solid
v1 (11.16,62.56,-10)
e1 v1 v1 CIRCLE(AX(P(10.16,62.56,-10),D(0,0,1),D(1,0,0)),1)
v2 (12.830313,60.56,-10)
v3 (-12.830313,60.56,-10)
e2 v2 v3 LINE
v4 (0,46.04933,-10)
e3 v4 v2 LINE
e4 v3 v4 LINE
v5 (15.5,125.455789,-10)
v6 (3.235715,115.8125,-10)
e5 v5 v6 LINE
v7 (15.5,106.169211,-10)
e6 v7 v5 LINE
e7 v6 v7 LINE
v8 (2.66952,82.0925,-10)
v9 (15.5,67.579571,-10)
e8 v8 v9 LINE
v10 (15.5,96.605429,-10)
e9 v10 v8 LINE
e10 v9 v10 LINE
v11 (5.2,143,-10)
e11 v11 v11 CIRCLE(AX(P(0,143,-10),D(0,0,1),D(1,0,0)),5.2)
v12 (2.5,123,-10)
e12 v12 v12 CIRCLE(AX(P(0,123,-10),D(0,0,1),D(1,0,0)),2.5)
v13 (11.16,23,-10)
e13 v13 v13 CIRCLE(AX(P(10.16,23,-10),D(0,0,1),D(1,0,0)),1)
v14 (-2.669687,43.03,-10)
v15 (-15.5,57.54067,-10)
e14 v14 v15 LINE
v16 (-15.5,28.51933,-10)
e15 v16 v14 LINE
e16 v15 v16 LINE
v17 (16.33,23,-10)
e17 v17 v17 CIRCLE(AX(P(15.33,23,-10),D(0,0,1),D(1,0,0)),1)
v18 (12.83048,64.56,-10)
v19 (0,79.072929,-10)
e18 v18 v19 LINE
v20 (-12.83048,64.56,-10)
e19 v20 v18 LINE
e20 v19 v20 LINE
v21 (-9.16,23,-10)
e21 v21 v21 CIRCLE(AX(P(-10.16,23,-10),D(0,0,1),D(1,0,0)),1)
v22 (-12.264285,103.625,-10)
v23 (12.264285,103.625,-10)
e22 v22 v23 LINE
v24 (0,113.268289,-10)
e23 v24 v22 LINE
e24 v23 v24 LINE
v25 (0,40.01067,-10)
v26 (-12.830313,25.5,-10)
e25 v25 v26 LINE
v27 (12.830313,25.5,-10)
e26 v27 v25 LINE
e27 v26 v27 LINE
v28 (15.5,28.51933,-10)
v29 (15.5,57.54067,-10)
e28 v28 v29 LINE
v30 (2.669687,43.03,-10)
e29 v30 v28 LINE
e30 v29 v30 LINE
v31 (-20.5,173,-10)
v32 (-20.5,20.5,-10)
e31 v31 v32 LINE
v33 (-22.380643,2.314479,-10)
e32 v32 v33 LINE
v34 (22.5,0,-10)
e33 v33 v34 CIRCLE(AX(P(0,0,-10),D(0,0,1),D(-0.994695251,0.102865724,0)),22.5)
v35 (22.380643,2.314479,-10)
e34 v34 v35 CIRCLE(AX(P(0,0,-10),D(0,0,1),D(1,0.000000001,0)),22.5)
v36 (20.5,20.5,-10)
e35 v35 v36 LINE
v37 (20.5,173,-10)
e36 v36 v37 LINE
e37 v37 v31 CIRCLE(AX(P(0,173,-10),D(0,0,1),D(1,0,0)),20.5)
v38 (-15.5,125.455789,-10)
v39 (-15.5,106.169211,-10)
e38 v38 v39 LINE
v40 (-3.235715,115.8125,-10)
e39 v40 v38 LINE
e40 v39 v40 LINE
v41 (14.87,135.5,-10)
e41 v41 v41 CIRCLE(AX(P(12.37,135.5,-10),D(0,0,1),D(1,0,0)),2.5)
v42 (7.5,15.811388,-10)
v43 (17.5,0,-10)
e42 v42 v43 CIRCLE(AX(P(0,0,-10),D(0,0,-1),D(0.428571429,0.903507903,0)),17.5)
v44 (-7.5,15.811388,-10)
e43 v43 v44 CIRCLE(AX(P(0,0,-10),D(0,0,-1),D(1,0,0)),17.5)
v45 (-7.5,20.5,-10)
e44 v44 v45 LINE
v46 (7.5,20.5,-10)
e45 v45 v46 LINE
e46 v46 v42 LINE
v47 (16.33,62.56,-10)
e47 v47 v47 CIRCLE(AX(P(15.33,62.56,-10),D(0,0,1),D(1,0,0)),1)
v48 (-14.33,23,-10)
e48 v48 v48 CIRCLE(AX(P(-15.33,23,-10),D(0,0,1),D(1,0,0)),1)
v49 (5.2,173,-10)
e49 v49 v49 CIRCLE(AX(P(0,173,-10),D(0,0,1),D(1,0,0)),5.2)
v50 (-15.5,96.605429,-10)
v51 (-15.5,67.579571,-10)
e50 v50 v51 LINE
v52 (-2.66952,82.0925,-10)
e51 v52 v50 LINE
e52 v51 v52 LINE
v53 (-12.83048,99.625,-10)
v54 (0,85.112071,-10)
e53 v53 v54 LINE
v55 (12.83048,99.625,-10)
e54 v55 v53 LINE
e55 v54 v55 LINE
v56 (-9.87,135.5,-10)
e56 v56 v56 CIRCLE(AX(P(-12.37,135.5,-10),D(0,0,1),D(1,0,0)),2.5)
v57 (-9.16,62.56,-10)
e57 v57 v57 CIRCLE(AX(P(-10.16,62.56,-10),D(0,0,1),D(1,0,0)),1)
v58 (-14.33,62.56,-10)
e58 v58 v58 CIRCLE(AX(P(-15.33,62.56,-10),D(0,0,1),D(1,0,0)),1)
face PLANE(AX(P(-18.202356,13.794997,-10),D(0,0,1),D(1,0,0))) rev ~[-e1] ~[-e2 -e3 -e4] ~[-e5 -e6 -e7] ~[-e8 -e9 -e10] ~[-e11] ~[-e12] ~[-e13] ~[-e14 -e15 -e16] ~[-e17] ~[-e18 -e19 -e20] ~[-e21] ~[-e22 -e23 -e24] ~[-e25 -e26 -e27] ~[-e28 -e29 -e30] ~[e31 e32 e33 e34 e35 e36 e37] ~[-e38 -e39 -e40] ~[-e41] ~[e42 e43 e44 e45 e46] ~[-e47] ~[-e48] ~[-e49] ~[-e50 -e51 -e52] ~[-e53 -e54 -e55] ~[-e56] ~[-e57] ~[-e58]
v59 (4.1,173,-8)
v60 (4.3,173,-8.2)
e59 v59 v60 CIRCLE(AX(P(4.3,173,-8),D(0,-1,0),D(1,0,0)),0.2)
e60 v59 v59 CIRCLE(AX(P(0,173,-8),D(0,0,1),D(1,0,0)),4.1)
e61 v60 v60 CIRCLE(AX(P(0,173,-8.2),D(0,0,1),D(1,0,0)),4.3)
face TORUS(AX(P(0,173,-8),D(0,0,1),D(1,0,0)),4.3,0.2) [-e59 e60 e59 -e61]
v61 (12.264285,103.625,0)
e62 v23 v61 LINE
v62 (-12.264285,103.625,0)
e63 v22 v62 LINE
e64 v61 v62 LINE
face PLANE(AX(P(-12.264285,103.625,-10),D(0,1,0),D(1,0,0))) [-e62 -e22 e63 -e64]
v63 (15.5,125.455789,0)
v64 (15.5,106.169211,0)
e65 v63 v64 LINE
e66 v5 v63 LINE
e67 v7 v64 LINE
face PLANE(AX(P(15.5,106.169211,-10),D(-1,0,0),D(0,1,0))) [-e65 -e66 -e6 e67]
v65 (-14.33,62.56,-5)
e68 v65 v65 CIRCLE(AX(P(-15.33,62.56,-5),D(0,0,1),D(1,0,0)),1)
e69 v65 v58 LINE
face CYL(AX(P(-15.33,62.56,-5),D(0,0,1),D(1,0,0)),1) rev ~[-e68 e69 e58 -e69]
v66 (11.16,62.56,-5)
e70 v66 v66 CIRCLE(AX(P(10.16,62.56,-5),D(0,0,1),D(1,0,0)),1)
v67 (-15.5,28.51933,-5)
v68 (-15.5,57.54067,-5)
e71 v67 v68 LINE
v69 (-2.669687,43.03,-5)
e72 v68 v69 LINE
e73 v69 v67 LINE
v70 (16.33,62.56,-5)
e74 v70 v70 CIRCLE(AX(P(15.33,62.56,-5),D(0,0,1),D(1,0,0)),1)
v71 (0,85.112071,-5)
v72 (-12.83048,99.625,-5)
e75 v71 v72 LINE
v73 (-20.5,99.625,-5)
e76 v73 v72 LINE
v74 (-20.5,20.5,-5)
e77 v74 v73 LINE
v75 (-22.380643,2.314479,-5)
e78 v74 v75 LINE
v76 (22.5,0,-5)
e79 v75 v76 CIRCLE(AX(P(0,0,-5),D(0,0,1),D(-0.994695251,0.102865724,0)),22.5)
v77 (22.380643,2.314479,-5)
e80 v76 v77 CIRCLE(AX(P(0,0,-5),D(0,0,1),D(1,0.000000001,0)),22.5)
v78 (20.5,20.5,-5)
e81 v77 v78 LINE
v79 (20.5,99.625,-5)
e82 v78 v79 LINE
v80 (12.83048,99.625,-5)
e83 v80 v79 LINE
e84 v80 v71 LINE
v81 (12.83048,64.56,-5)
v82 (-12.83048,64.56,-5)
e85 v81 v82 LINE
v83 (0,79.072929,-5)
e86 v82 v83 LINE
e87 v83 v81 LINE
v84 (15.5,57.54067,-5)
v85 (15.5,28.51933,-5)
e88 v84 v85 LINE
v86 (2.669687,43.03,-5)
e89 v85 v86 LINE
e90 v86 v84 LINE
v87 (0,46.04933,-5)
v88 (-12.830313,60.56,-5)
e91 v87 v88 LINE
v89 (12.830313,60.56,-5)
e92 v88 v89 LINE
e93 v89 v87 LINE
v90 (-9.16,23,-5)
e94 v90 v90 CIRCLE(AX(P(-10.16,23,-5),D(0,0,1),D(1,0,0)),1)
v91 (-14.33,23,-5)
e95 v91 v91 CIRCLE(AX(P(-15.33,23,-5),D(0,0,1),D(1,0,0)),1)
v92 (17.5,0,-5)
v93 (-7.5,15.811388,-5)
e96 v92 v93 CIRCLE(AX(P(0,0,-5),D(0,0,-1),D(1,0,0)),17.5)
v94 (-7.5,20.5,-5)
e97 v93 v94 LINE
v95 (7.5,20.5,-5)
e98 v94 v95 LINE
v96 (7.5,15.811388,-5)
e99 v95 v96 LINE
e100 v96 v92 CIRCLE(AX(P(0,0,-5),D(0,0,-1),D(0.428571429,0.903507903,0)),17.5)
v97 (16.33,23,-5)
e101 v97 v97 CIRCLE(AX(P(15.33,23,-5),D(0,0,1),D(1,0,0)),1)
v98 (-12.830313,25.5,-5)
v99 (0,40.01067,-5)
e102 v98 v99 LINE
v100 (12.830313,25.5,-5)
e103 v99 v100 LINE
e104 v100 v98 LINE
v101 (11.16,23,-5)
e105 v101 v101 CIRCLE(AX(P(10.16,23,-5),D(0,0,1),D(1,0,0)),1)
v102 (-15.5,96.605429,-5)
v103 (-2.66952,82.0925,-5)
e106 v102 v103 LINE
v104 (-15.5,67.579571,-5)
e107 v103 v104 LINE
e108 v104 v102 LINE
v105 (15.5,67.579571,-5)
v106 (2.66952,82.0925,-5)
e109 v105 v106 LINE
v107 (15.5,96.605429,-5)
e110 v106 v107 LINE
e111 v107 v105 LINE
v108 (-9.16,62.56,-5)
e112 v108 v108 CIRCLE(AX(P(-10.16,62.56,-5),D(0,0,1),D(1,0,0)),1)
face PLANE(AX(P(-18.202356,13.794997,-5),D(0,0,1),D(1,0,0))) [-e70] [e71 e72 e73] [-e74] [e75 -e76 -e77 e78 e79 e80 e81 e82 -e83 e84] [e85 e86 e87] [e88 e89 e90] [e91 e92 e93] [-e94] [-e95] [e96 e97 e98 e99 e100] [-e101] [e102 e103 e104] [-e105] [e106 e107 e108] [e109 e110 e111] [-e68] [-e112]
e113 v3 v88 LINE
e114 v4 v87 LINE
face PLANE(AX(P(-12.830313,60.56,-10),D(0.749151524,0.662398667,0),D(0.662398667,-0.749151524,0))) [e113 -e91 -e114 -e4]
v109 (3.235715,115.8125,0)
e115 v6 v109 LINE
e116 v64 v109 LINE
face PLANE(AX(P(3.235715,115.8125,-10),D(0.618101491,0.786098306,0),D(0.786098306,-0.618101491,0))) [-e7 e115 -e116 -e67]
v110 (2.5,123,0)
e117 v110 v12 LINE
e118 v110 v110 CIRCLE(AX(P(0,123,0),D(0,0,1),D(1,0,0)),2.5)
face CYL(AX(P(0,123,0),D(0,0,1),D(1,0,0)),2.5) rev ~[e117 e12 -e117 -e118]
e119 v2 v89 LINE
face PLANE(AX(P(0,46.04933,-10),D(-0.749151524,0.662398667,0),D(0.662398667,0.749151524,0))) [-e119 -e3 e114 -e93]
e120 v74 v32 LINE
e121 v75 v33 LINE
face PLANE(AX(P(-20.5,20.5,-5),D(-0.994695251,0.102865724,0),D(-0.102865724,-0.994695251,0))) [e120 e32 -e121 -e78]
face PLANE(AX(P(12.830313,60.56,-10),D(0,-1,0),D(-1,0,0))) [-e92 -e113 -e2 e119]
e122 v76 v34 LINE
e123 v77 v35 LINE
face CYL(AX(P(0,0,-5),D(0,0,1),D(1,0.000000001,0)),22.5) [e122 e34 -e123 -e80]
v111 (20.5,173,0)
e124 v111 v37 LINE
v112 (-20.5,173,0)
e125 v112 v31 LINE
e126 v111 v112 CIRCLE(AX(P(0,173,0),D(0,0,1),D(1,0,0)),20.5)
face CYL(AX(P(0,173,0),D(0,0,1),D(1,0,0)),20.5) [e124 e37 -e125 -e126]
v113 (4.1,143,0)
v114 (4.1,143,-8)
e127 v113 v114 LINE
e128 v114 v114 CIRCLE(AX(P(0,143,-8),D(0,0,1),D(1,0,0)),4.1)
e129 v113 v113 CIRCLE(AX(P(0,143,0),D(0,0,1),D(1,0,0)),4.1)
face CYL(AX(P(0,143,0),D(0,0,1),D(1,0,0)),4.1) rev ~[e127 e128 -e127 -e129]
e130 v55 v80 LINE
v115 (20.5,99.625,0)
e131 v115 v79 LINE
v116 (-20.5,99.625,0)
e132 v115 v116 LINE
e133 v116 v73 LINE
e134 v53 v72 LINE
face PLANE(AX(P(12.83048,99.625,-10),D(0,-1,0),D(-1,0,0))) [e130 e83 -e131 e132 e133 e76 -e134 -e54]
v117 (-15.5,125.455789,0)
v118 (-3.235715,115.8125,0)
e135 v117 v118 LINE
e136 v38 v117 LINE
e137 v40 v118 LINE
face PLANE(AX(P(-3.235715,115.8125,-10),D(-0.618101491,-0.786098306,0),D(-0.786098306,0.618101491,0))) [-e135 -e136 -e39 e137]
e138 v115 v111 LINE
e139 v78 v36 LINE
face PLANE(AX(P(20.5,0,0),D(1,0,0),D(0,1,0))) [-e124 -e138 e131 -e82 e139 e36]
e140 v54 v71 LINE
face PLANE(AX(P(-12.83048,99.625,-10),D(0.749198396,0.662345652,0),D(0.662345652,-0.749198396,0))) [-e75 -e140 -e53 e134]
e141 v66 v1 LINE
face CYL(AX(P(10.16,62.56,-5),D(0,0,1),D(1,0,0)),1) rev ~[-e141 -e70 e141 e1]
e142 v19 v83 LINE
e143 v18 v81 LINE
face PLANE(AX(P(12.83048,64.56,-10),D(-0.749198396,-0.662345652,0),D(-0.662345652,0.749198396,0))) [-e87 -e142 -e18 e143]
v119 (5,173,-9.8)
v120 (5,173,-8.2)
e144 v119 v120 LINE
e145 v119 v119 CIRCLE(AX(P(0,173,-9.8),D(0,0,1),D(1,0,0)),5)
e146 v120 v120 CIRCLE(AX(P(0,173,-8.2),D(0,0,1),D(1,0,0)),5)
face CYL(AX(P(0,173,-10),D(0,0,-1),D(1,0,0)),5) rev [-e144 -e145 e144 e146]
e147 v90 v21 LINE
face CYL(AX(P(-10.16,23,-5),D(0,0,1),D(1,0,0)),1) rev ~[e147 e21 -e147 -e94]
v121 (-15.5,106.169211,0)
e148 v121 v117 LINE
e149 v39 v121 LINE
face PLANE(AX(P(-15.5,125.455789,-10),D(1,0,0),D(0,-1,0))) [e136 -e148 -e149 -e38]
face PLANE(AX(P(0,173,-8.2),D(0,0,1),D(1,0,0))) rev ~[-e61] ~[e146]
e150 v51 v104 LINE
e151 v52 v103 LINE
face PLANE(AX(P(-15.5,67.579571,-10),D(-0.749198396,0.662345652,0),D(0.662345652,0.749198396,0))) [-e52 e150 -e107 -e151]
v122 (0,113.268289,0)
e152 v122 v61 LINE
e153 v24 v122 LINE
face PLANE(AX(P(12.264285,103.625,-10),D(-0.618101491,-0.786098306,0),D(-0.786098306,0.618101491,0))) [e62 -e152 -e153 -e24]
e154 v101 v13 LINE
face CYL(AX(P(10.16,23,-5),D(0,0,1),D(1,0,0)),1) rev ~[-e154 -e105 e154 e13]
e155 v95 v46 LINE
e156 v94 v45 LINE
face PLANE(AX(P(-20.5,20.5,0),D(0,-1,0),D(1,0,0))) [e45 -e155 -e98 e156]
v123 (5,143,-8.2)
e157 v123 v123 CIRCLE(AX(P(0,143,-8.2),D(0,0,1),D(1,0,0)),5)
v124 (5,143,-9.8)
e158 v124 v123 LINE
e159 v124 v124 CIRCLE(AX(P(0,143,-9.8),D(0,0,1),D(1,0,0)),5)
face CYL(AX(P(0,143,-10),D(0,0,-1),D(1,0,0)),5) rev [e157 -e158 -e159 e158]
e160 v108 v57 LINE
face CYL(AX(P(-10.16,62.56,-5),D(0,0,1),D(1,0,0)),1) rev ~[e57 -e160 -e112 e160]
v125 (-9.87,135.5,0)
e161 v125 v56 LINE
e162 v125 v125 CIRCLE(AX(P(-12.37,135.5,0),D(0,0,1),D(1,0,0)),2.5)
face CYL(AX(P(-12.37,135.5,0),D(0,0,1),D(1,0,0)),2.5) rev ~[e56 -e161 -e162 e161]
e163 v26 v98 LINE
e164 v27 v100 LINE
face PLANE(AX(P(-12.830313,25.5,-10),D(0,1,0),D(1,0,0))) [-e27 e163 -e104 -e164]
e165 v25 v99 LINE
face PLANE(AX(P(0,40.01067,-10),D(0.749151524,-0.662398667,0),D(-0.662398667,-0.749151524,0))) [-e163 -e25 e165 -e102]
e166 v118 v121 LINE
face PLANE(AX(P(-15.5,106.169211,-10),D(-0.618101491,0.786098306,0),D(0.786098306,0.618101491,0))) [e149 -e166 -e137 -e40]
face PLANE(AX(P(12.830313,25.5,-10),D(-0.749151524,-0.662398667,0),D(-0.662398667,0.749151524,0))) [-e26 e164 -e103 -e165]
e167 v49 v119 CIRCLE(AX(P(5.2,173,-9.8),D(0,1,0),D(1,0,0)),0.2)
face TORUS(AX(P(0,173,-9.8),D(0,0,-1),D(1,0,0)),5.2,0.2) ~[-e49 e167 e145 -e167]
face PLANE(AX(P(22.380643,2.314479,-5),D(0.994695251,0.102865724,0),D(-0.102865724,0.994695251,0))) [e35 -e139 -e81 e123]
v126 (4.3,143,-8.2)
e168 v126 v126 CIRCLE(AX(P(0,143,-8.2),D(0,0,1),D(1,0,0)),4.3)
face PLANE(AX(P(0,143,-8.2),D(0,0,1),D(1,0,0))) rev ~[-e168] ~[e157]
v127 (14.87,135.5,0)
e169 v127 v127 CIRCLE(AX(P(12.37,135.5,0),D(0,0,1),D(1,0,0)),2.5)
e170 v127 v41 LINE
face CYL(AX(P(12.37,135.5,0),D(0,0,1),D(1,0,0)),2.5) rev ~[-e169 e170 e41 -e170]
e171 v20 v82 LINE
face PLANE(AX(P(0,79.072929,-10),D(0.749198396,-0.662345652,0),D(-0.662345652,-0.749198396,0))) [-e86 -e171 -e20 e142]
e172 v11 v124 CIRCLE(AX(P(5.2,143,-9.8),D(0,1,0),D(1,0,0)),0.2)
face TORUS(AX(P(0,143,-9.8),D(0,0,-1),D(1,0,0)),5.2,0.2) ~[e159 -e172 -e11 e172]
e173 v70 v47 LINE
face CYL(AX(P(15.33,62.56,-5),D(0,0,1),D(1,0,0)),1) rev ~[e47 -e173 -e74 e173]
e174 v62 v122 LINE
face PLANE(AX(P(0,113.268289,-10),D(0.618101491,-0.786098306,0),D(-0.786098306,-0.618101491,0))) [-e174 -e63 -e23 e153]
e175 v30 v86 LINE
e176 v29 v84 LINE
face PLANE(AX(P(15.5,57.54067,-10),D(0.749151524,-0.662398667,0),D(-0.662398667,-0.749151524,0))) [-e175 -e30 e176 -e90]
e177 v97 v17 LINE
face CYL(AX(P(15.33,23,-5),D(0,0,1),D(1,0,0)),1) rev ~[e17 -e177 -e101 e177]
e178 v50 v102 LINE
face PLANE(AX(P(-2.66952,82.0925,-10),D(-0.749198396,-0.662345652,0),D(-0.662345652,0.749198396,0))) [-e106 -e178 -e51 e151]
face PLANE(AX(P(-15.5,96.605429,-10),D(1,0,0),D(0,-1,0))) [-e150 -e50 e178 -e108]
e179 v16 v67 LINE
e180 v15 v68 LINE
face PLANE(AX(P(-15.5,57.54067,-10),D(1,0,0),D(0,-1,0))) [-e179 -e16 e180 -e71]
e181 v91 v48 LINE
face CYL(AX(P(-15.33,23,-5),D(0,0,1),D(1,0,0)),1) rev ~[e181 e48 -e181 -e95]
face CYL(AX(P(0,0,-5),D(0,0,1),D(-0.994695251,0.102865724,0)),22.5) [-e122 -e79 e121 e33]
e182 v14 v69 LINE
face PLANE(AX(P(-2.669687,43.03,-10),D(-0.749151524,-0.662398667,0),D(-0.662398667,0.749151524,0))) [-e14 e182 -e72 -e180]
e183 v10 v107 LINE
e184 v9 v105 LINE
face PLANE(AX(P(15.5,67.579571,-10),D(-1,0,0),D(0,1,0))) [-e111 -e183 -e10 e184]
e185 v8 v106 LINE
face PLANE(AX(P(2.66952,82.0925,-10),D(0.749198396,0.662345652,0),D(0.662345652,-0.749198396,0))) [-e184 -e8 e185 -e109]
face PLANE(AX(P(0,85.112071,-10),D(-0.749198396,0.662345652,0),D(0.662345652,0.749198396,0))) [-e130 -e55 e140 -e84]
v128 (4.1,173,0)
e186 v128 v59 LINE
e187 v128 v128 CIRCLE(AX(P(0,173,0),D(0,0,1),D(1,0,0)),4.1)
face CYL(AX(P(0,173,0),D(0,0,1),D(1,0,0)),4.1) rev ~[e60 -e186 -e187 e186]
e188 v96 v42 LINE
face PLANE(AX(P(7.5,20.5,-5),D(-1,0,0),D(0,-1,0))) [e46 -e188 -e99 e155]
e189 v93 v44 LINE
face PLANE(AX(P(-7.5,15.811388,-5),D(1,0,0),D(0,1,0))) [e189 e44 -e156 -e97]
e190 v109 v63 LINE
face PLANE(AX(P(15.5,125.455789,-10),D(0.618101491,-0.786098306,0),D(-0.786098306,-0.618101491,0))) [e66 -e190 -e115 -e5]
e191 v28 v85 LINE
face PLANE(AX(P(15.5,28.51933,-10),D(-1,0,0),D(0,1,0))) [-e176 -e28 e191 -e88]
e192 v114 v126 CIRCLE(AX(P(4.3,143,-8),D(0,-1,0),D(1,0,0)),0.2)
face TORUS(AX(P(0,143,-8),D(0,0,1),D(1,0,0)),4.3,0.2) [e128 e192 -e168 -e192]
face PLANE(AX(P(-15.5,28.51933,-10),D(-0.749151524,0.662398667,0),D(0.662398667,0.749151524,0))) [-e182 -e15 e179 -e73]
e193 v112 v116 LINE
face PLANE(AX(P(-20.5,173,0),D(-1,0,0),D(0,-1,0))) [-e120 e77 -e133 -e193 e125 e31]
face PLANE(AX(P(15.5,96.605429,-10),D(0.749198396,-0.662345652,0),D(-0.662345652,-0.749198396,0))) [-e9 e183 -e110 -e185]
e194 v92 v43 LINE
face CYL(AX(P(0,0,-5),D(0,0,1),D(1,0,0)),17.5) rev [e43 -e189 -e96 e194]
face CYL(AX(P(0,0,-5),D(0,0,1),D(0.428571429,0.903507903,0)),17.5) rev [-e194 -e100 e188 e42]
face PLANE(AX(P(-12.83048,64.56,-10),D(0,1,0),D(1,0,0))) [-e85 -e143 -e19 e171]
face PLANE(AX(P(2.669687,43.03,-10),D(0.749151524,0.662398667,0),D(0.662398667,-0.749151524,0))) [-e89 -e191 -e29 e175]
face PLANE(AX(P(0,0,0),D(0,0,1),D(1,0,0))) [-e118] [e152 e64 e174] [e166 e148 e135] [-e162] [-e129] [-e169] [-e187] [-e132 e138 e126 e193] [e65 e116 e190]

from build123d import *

# Parameters (mm, degrees)
SKETCH_1_R               = 20.5
SKETCH_1_R_2             = 6.5
SKETCH_1_R_3             = 1.5
EXTRUDE_1_DEPTH          = 10
SKETCH_2_R               = 4.1
CUT_EXTRUDE_1_DEPTH      = 10
SKETCH_4_W               = 41
SKETCH_4_H               = 120.125
CUT_EXTRUDE_3_DEPTH      = 5
CUT_EXTRUDE_4_DEPTH      = 195.839677684
CUT_EXTRUDE_4_DEPTH_BACK = 10
CUT_EXTRUDE_5_DEPTH      = 195.839677684
CUT_EXTRUDE_5_DEPTH_BACK = 10
SKETCH_5_W               = 41
SKETCH_5_H               = 41
CUT_EXTRUDE_6_DEPTH      = 10
EXTRUDE_START            = -5
EXTRUDE_2_DEPTH          = 5
SKETCH_7_R               = 1
CUT_EXTRUDE_7_DEPTH      = 195.867903976
SKETCH_8_R               = 2.5
CUT_EXTRUDE_8_DEPTH      = 10
CUT_EXTRUDE_START        = -10
SKETCH_9_R               = 5
CUT_EXTRUDE_9_DEPTH      = 1.8
FILLET_1_R               = 0.2


with BuildPart() as part:
    # 스케치1 → 보스-돌출1 (new body)
    # profile 1 of 3: a face of its own
    with BuildSketch(Plane.XY):
        with BuildLine():
            Line((-20.5, 173), (-20.5, 0))
            ThreePointArc((-20.5, 0), (0, 20.5), (20.5, 0))
            Line((20.5, 0), (20.5, 173))
            ThreePointArc((20.5, 173), (0, 152.5), (-20.5, 173))
        make_face()
    # profile 2 of 3: a face of its own
    with BuildSketch(Plane.XY):
        with Locations((0, 173)):
            Circle(SKETCH_1_R)
    # profile 3 of 3: a face of its own
    with BuildSketch(Plane.XY):
        Circle(SKETCH_1_R)
        with Locations((0, -7)):
            Circle(SKETCH_1_R_2, mode=Mode.SUBTRACT)
        with Locations((-7.75, -13.423393759)):
            Circle(SKETCH_1_R_3, mode=Mode.SUBTRACT)
        with Locations((7.75, -13.423393759)):
            Circle(SKETCH_1_R_3, mode=Mode.SUBTRACT)
        with Locations((15.5, 0)):
            Circle(SKETCH_1_R_3, mode=Mode.SUBTRACT)
        with Locations((7.75, 13.423393759)):
            Circle(SKETCH_1_R_3, mode=Mode.SUBTRACT)
        with Locations((-7.75, 13.423393759)):
            Circle(SKETCH_1_R_3, mode=Mode.SUBTRACT)
        with Locations((-15.5, 0)):
            Circle(SKETCH_1_R_3, mode=Mode.SUBTRACT)
    extrude(amount=-EXTRUDE_1_DEPTH)

    # 스케치2 → 컷-돌출1 (cut)
    with BuildSketch(Plane.XY):
        with Locations((0, 173)):
            Circle(SKETCH_2_R)
        with Locations((0, 143)):
            Circle(SKETCH_2_R)
    extrude(amount=-CUT_EXTRUDE_1_DEPTH, mode=Mode.SUBTRACT)

    # 스케치4 → 컷-돌출3 (cut)
    with BuildSketch(Plane.XY):
        with Locations((0, 39.5625)):
            Rectangle(SKETCH_4_W, SKETCH_4_H)
    extrude(amount=-CUT_EXTRUDE_3_DEPTH, mode=Mode.SUBTRACT)

    # 스케치3 → 컷-돌출4 (cut, two sides: drawn at the far end of the back side and taken through both)
    with BuildSketch(Plane.XY.offset(-CUT_EXTRUDE_4_DEPTH_BACK)):
        Polygon((15.5, 125.455788946), (3.235714571, 115.8125), (15.5, 106.169211054), align=None)
        Polygon((12.264285429, 103.625), (0, 113.268288946), (-12.264285429, 103.625), align=None)
        Polygon((-3.235714571, 115.8125), (-15.5, 125.455788946), (-15.5, 106.169211054), align=None)
    extrude(amount=CUT_EXTRUDE_4_DEPTH + CUT_EXTRUDE_4_DEPTH_BACK, mode=Mode.SUBTRACT)

    # 스케치3<4> → 컷-돌출5 (cut, two sides: drawn at the far end of the back side and taken through both)
    with BuildSketch(Plane.XY.offset(-CUT_EXTRUDE_5_DEPTH_BACK)):
        Polygon((12.830480138, 99.625), (-12.830480138, 99.625), (0, 85.112071418), align=None)
        Polygon((15.5, 67.579571418), (15.5, 96.605428582), (2.669519862, 82.0925), align=None)
        Polygon((12.830480138, 64.56), (0, 79.072928582), (-12.830480138, 64.56), align=None)
        Polygon((-2.669519862, 82.0925), (-15.5, 96.605428582), (-15.5, 67.579571418), align=None)
        Polygon((12.830313114, 60.56), (-12.830313114, 60.56), (0, 46.049329749), align=None)
        Polygon((-2.669686886, 43.03), (-15.5, 57.540670251), (-15.5, 28.519329749), align=None)
        Polygon((12.830313114, 25.5), (0, 40.010670251), (-12.830313114, 25.5), align=None)
        Polygon((15.5, 28.519329749), (15.5, 57.540670251), (2.669686886, 43.03), align=None)
    extrude(amount=CUT_EXTRUDE_5_DEPTH + CUT_EXTRUDE_5_DEPTH_BACK, mode=Mode.SUBTRACT)

    # 스케치5 → 컷-돌출6 (cut)
    with BuildSketch(Plane.XY):
        Rectangle(SKETCH_5_W, SKETCH_5_H)
    extrude(amount=-CUT_EXTRUDE_6_DEPTH, mode=Mode.SUBTRACT)

    # 스케치6 → 보스-돌출2 (add)
    with BuildSketch(Plane.XY.offset(EXTRUDE_START)):
        with BuildLine():
            ThreePointArc((-22.380643152, 2.314478799), (-18.253119335, 13.155745306), (-9.273618495, 20.5))
            Line((-9.273618495, 20.5), (-20.5, 20.5))
            Line((-20.5, 20.5), (-22.380643152, 2.314478799))
        make_face()
        with BuildLine():
            Line((-7.5, 15.811388301), (-7.5, 20.5))
            Line((-7.5, 20.5), (-9.273618495, 20.5))
            ThreePointArc((-9.273618495, 20.5), (-18.253119335, 13.155745306), (-22.380643152, 2.314478799))
            ThreePointArc((-22.380643152, 2.314478799), (-1.158777176, -22.470140975), (22.5, 0))
            ThreePointArc((22.5, 0), (22.470140975, 1.158777176), (22.380643152, 2.314478799))
            ThreePointArc((22.380643152, 2.314478799), (18.253119335, 13.155745306), (9.273618495, 20.5))
            Line((9.273618495, 20.5), (7.5, 20.5))
            Line((7.5, 20.5), (7.5, 15.811388301))
            ThreePointArc((7.5, 15.811388301), (14.790199458, 9.354143467), (17.5, 0))
            ThreePointArc((17.5, 0), (-9.354143467, -14.790199458), (-7.5, 15.811388301))
        make_face()
        with BuildLine():
            Line((20.5, 20.5), (9.273618495, 20.5))
            ThreePointArc((9.273618495, 20.5), (18.253119335, 13.155745306), (22.380643152, 2.314478799))
            Line((22.380643152, 2.314478799), (20.5, 20.5))
        make_face()
    extrude(amount=-EXTRUDE_2_DEPTH)

    # 스케치7 → 컷-돌출7 (cut, through all)
    with BuildSketch(Plane.XY.offset(-5)):
        with Locations((-15.33, 23)):
            Circle(SKETCH_7_R)
        with Locations((-10.16, 23)):
            Circle(SKETCH_7_R)
        with Locations((10.16, 23)):
            Circle(SKETCH_7_R)
        with Locations((15.33, 23)):
            Circle(SKETCH_7_R)
        with Locations((-15.33, 62.56)):
            Circle(SKETCH_7_R)
        with Locations((-10.16, 62.56)):
            Circle(SKETCH_7_R)
        with Locations((10.16, 62.56)):
            Circle(SKETCH_7_R)
        with Locations((15.33, 62.56)):
            Circle(SKETCH_7_R)
    extrude(amount=-CUT_EXTRUDE_7_DEPTH, mode=Mode.SUBTRACT)

    # 스케치8 → 컷-돌출8 (cut)
    with BuildSketch(Plane.XY):
        with Locations((-12.37, 135.5)):
            Circle(SKETCH_8_R)
        with Locations((0, 123)):
            Circle(SKETCH_8_R)
        with Locations((12.37, 135.5)):
            Circle(SKETCH_8_R)
    extrude(amount=-CUT_EXTRUDE_8_DEPTH, mode=Mode.SUBTRACT)

    # 스케치9 → 컷-돌출9 (cut)
    with BuildSketch(Plane.XY.offset(CUT_EXTRUDE_START)):
        with Locations((0, 173)):
            Circle(SKETCH_9_R)
        with Locations((0, 143)):
            Circle(SKETCH_9_R)
    extrude(amount=CUT_EXTRUDE_9_DEPTH, mode=Mode.SUBTRACT)

    # 필렛1
    fillet_1_edges = [part.edges().sort_by_distance(p)[0] for p in [
        (-4.1, 173, -8.2),
        (-5, 173, -10),
        (-4.1, 143, -8.2),
        (-5, 143, -10),
    ]]
    fillet(fillet_1_edges, radius=FILLET_1_R)


solid = part.part
